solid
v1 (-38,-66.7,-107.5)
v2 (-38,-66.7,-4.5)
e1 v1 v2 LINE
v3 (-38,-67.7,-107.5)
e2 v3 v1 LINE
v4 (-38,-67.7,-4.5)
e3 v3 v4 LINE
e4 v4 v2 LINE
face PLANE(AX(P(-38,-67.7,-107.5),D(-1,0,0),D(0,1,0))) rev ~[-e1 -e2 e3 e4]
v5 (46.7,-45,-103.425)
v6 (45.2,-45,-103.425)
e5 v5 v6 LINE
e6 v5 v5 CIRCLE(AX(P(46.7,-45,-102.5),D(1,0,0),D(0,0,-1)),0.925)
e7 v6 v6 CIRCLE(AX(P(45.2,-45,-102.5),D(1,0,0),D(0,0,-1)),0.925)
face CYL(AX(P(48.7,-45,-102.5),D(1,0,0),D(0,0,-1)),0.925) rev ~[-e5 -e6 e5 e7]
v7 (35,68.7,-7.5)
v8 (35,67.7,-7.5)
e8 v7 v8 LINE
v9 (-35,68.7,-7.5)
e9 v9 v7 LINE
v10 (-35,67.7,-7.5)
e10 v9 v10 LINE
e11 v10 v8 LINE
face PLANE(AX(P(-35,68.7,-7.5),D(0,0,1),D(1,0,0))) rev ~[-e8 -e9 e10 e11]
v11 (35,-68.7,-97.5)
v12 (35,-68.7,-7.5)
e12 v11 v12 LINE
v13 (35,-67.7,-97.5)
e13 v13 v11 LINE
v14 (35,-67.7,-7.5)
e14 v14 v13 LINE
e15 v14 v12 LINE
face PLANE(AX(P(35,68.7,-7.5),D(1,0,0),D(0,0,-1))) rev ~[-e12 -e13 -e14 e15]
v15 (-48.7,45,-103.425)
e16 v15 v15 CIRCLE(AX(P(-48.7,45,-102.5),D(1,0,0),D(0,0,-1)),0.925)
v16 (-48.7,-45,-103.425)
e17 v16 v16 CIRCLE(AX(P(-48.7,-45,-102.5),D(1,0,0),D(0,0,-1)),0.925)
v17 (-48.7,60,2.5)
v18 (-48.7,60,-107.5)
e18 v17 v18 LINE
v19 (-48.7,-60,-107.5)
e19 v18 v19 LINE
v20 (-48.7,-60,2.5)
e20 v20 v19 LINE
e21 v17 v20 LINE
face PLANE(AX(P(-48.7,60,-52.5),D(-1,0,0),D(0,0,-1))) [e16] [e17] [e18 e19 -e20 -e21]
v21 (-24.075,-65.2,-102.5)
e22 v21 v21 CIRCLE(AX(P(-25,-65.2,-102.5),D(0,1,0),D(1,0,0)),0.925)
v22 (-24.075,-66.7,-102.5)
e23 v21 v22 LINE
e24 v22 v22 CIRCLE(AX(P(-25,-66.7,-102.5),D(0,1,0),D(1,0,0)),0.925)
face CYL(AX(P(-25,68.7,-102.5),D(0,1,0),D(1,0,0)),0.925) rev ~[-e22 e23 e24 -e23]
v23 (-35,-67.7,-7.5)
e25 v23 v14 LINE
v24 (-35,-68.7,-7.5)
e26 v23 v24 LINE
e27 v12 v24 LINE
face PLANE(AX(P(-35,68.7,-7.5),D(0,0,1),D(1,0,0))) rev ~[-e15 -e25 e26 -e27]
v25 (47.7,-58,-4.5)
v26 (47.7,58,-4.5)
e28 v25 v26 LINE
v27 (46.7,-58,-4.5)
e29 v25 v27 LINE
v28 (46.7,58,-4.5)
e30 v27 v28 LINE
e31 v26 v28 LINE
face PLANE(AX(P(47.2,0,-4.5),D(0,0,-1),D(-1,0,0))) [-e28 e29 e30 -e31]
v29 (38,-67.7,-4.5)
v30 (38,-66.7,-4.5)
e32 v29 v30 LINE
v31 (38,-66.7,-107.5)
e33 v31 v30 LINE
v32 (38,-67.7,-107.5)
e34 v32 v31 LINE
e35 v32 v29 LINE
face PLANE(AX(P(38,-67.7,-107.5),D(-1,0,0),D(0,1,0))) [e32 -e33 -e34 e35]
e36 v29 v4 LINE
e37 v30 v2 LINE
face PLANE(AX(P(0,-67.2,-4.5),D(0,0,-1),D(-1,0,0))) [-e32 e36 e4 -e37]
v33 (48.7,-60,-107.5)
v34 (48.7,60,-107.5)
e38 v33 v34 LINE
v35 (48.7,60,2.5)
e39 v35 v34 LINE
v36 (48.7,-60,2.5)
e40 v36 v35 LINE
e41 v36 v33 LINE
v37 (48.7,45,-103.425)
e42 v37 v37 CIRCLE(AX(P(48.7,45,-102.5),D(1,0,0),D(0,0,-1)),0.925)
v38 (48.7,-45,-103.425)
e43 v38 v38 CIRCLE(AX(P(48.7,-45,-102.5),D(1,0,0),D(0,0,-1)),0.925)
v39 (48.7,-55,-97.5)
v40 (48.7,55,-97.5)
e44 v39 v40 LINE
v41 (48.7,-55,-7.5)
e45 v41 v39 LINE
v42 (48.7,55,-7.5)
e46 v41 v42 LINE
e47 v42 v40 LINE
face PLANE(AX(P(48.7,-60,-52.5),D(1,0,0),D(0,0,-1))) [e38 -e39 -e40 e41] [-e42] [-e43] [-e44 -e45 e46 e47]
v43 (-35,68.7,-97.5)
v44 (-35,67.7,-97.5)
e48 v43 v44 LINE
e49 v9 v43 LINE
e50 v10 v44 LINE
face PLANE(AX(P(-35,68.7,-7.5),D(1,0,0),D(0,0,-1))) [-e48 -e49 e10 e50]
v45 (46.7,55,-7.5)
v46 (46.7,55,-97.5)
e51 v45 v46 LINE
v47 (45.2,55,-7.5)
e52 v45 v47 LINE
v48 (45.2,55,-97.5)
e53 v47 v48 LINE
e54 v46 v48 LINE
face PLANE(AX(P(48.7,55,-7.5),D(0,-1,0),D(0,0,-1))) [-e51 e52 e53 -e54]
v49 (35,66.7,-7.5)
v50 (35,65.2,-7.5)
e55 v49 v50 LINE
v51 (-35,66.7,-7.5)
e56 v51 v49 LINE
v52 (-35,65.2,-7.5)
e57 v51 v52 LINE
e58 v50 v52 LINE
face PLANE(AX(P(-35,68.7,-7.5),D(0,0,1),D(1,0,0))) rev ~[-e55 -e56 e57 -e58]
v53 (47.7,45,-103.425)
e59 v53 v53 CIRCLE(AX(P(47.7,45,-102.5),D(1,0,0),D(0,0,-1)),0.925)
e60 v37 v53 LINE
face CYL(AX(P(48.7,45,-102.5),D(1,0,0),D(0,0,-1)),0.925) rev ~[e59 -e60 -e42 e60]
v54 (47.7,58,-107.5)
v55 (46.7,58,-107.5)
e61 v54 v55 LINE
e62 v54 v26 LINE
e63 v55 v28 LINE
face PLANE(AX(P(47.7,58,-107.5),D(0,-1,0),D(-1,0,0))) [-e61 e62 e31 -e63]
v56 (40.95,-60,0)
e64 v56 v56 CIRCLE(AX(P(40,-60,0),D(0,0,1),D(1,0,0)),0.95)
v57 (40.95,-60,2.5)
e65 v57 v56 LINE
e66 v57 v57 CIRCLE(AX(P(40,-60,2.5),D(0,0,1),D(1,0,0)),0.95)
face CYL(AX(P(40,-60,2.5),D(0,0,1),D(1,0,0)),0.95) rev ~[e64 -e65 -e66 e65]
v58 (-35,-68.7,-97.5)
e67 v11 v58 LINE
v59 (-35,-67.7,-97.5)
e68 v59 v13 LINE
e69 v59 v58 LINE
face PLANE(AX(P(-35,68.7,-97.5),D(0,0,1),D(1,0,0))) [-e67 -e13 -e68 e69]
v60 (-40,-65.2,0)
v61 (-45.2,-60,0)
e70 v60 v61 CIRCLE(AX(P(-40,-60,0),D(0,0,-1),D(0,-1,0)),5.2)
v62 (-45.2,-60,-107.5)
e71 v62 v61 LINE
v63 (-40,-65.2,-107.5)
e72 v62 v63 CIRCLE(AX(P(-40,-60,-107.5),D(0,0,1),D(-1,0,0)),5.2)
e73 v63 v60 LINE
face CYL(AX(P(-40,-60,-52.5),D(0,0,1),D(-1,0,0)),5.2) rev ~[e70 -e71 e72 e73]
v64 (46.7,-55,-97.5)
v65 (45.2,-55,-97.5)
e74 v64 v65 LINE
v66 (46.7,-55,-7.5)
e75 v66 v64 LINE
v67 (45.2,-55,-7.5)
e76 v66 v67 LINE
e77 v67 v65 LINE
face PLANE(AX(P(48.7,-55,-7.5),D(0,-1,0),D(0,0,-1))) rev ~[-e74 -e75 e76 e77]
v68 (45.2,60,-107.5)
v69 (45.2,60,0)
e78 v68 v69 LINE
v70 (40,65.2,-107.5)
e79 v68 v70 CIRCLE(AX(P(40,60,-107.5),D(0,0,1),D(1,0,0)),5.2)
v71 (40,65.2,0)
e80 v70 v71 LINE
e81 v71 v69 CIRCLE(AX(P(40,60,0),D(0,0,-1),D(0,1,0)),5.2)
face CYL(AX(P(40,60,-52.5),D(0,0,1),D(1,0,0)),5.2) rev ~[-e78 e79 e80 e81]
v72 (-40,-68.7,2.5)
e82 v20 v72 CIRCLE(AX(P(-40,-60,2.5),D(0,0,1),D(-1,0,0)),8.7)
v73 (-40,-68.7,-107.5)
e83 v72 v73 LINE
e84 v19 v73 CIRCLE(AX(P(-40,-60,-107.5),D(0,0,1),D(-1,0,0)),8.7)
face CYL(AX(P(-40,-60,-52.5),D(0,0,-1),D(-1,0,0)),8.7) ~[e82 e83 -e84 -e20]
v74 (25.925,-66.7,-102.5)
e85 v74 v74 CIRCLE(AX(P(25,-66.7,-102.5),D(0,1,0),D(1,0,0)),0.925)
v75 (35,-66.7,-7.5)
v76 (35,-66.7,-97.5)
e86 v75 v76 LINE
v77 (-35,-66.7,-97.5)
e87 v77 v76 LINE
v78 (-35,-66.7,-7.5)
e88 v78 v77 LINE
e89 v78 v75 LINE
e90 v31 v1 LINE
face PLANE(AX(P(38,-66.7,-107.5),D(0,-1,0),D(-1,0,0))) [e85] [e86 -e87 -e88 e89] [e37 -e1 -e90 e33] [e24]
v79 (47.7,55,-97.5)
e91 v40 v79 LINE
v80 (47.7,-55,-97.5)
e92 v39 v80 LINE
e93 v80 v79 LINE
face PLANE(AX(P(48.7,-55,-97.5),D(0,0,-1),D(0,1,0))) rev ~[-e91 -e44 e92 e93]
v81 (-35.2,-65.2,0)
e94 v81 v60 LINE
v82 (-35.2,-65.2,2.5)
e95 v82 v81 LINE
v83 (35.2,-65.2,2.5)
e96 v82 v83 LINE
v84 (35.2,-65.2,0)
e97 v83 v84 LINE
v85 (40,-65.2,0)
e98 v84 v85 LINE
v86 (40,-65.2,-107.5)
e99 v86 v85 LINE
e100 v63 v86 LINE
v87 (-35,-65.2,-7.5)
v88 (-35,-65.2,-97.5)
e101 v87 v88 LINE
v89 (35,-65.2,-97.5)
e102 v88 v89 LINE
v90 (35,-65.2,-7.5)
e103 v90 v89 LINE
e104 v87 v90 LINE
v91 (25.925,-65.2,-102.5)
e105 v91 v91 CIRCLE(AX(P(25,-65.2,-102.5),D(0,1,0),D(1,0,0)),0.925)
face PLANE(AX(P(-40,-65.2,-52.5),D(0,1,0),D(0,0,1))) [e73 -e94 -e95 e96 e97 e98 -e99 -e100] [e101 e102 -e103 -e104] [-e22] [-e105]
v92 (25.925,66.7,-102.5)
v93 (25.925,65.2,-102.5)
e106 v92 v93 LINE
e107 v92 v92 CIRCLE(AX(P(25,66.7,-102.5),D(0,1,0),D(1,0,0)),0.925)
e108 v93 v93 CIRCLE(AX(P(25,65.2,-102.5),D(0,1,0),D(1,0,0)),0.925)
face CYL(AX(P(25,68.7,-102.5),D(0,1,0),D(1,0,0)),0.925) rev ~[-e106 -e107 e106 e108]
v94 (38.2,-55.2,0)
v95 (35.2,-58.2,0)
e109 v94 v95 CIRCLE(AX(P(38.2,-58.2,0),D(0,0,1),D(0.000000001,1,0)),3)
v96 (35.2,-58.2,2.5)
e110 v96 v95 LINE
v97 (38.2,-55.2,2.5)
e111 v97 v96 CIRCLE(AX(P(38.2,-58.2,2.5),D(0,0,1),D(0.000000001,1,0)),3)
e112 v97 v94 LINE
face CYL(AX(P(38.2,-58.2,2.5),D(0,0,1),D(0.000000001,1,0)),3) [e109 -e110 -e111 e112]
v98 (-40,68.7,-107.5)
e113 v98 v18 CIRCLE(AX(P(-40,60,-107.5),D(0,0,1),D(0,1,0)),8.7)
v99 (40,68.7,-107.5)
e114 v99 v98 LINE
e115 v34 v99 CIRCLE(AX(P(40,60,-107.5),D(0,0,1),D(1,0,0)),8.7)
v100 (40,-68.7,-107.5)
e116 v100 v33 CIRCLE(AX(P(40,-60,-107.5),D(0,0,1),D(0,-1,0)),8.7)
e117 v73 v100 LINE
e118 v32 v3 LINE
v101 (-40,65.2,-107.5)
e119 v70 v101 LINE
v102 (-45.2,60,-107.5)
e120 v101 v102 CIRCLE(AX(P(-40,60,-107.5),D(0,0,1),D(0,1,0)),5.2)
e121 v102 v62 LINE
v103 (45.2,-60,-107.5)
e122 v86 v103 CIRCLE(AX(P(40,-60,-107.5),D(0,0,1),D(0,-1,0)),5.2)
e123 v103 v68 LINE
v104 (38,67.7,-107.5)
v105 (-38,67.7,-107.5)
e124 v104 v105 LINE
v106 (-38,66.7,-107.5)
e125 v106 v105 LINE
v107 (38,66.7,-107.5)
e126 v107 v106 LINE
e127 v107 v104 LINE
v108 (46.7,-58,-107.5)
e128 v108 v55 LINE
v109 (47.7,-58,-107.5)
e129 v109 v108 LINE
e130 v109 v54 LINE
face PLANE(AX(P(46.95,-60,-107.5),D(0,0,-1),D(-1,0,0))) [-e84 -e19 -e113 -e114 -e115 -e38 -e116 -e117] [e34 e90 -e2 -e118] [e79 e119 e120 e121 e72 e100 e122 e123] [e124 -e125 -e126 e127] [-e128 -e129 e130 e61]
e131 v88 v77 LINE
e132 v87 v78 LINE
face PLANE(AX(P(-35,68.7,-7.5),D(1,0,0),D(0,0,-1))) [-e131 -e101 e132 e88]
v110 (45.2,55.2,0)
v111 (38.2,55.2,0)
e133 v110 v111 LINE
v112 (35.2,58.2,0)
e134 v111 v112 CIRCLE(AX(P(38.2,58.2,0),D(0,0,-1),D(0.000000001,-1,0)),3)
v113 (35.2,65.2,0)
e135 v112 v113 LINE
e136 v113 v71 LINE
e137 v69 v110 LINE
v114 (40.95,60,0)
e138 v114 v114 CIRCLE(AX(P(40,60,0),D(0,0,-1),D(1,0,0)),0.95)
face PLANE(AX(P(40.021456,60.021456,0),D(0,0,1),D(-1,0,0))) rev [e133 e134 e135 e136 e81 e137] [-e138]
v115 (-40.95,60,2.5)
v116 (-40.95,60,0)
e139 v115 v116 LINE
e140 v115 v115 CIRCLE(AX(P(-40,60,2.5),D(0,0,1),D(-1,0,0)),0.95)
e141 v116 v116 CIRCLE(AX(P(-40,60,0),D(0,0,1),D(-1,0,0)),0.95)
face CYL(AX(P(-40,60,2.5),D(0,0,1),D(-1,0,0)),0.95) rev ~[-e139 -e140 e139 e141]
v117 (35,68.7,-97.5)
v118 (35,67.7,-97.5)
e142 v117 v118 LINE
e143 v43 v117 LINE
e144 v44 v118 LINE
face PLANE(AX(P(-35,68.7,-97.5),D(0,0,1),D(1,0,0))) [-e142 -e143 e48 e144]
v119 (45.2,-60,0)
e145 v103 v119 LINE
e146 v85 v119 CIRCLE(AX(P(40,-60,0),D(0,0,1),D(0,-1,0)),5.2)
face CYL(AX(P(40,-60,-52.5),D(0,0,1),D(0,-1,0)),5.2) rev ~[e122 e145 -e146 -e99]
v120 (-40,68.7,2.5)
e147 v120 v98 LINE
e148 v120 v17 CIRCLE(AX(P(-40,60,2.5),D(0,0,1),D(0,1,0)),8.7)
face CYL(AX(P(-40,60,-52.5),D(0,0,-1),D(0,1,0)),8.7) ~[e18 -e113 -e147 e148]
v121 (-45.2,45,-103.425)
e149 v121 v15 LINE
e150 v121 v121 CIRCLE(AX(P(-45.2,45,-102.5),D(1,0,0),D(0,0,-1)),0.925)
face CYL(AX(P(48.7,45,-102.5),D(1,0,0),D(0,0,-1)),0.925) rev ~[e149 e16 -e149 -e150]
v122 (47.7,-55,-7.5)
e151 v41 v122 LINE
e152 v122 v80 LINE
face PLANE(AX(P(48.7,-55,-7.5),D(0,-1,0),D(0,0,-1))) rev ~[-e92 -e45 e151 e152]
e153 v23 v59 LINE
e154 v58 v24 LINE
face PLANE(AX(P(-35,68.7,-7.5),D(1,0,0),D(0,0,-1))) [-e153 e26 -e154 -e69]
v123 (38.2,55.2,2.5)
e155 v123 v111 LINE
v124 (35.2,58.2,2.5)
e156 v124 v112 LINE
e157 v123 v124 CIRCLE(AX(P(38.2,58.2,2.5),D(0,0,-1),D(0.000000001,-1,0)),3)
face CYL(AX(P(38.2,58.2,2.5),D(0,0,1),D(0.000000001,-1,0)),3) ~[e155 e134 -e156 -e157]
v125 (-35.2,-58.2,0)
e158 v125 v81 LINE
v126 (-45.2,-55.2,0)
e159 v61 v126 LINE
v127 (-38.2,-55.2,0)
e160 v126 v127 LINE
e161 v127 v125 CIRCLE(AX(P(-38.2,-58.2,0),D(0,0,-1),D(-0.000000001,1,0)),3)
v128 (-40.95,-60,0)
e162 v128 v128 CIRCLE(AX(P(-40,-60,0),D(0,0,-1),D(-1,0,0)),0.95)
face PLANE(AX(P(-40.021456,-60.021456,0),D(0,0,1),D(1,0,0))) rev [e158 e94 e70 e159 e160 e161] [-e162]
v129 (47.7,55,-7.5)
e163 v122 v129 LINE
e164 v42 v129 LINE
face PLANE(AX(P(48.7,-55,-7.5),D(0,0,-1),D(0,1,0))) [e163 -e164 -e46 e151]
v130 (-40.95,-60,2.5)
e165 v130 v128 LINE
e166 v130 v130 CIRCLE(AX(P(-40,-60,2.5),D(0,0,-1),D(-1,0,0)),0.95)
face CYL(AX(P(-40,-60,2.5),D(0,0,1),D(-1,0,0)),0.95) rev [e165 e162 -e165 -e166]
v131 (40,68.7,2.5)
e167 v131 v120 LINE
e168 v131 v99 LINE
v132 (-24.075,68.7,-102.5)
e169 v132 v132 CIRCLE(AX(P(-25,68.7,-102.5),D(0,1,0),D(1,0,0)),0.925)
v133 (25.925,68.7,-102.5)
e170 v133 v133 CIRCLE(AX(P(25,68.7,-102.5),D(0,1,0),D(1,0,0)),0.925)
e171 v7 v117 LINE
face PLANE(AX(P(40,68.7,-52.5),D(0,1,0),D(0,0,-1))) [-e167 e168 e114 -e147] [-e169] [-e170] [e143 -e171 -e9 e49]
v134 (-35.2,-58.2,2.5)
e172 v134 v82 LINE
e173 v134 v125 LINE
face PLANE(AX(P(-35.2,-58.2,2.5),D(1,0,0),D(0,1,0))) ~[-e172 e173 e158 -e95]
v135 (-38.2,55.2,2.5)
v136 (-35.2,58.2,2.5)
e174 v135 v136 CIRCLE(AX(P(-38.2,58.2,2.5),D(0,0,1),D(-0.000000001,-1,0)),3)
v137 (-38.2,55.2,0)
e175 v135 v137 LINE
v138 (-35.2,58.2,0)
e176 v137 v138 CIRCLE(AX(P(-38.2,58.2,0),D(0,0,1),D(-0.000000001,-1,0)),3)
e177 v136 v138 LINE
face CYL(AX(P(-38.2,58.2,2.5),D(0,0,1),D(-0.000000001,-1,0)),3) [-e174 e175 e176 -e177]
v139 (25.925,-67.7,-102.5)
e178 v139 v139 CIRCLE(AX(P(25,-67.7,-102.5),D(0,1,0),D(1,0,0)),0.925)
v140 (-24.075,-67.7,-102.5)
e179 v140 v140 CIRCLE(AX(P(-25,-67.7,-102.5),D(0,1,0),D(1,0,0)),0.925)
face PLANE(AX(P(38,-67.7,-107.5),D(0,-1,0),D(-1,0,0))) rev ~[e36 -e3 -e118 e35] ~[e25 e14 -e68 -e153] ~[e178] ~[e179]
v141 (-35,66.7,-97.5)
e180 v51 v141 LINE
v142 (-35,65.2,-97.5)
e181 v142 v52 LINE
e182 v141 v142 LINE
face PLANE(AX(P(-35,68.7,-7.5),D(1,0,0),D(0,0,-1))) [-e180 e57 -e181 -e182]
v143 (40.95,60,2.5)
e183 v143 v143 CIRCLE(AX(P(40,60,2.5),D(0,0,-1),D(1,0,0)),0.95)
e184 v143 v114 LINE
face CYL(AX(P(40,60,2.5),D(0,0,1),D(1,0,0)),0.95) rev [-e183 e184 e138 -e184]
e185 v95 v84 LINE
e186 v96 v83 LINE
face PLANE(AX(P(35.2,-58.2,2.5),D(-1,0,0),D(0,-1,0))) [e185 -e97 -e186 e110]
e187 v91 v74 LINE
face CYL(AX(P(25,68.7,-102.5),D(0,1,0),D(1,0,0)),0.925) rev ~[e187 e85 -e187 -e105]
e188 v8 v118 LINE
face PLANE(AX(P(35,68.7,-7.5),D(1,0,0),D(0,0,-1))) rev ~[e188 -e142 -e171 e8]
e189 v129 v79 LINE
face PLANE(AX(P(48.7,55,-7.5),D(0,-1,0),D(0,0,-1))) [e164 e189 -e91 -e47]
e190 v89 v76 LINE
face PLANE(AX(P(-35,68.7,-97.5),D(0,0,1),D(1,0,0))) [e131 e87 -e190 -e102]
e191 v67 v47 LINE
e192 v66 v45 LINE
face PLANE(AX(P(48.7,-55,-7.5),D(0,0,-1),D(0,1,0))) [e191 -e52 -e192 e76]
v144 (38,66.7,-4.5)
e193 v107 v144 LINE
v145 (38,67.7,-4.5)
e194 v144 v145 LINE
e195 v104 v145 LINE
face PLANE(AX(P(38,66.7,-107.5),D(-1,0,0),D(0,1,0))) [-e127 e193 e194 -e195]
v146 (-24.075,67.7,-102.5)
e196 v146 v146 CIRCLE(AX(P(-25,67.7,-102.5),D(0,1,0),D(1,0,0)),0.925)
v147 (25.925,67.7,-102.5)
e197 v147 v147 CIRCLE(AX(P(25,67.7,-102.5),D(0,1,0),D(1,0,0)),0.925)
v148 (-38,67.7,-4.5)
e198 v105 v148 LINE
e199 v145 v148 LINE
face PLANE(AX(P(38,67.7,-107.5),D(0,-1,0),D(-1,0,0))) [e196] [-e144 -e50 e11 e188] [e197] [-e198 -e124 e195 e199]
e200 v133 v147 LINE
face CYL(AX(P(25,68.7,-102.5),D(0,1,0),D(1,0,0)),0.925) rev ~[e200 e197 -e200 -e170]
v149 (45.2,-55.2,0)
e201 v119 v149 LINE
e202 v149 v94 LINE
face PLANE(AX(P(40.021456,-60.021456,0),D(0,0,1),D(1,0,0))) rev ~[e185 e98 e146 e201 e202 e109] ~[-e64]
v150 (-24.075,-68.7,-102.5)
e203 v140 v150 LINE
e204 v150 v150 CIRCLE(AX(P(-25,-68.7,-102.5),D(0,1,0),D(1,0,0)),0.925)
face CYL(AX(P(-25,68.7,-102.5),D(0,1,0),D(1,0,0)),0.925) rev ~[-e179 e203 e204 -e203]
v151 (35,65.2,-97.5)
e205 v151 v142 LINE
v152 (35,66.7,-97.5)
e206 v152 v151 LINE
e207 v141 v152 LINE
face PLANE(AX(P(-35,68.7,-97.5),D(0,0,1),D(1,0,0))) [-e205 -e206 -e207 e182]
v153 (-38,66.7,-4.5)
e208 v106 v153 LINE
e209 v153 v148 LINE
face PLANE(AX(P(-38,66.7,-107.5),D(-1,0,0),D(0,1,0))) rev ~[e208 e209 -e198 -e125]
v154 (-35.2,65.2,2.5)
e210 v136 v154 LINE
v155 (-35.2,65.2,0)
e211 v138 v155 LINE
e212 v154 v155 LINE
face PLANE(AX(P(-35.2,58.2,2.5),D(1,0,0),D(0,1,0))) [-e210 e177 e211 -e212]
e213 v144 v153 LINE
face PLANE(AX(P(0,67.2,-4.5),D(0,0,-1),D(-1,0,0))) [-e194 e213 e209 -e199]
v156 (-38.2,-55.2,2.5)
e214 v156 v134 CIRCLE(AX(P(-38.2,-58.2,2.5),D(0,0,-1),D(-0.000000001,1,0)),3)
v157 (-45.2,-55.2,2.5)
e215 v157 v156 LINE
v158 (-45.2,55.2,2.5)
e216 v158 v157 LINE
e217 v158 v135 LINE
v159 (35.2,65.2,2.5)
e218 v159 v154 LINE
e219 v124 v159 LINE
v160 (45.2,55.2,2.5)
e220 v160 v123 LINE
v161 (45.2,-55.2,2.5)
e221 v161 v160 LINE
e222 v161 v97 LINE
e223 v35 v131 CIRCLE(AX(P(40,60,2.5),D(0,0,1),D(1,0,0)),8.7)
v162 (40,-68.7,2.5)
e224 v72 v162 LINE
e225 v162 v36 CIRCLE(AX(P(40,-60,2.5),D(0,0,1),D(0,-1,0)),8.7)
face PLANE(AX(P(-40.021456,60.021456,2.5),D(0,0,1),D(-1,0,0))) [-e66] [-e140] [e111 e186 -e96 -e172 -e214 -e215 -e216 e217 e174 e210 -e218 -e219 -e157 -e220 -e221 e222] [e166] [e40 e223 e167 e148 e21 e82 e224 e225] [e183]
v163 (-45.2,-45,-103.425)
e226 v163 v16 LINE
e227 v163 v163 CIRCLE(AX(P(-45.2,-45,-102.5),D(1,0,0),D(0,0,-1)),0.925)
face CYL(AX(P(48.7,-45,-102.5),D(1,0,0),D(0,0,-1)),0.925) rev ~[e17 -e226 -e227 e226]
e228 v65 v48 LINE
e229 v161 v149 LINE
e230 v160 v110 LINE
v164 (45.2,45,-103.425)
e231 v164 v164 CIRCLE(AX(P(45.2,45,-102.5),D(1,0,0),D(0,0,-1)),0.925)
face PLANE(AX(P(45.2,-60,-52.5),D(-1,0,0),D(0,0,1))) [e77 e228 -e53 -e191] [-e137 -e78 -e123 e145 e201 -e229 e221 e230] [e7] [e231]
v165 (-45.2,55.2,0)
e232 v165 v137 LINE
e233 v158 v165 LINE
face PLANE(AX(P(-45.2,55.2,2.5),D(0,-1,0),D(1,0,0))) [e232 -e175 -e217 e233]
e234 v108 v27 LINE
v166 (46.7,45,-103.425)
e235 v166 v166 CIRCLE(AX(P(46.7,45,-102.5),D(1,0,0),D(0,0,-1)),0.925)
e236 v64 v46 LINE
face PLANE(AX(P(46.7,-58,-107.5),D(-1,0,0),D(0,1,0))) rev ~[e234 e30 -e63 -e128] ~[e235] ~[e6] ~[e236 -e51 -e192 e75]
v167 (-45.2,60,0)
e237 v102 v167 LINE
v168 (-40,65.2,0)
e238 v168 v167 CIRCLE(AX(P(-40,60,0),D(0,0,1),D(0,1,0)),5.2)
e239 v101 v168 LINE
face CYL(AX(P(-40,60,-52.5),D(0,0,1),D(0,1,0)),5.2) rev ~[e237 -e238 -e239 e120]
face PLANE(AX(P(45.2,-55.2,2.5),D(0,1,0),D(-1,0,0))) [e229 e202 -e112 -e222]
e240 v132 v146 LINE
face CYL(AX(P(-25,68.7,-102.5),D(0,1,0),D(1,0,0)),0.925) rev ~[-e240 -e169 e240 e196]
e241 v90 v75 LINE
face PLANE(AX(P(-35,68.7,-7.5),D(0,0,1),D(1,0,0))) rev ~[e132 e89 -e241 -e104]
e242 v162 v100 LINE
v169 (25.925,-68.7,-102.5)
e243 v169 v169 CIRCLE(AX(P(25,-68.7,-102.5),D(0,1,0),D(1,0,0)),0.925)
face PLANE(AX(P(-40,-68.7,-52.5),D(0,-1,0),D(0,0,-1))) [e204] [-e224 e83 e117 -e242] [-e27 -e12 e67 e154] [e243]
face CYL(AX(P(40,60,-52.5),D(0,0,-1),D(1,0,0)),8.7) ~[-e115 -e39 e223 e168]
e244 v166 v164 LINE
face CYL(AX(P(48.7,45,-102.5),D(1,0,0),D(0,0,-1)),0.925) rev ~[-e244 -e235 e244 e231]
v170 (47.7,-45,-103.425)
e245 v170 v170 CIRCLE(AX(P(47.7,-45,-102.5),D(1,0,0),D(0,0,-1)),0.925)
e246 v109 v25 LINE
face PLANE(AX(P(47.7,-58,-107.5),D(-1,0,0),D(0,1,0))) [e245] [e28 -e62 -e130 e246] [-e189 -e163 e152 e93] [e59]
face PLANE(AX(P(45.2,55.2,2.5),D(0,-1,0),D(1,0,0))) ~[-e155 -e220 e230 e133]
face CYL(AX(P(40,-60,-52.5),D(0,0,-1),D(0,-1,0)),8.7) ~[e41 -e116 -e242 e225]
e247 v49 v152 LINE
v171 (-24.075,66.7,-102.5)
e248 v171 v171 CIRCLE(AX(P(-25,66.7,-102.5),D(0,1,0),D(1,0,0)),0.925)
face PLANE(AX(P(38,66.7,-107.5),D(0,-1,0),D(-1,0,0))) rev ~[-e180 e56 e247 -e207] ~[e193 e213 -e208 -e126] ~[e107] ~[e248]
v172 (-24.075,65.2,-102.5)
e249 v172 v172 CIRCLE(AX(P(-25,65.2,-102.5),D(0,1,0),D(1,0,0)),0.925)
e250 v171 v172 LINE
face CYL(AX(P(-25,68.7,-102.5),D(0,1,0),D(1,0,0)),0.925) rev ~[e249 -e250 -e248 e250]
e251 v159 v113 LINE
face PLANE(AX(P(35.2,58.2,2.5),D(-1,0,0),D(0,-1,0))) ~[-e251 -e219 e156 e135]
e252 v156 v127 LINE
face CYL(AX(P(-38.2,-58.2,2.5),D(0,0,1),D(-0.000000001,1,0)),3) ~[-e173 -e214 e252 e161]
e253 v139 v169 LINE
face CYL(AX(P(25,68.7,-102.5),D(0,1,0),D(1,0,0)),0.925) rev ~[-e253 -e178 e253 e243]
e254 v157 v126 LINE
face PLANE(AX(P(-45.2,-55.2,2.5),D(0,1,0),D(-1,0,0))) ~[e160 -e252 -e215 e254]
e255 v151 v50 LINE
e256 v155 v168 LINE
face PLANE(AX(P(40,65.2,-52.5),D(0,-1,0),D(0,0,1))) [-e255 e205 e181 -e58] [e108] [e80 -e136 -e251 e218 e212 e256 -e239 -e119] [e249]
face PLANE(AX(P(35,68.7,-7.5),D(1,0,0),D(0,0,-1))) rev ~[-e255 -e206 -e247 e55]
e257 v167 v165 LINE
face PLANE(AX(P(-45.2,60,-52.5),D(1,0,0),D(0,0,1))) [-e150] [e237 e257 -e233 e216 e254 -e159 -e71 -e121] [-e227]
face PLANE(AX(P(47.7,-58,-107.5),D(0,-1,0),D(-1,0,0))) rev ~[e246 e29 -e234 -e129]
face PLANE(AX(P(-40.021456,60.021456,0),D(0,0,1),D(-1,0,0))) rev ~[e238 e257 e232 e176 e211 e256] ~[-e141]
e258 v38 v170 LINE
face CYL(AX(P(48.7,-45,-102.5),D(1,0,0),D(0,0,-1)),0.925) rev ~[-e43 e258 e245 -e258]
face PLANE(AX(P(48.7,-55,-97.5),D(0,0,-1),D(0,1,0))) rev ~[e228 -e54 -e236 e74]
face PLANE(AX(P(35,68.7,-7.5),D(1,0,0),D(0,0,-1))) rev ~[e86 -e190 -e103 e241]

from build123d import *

# Parameters (mm, degrees)
SKETCH3_W               = 110
SKETCH3_H               = 3.5
SKETCH4_R               = 0.95
BOSS_EXTRUDE2_DEPTH     = 2.5
MIRROR4_COPY_1_SKETCH_R = 0.95
MIRROR4_COPY_1_DEPTH    = 2.5
CUT_EXTRUDE1_REACH      = 99.4
SKETCH5_W               = 90
SKETCH5_H               = 110
SKETCH6_W               = 70
SKETCH6_H               = 90
CUT_EXTRUDE2_DEPTH      = 138.4
SKETCH7_R               = 0.925
CUT_EXTRUDE3_DEPTH      = 98.4
SKETCH9_R               = 0.925
CUT_EXTRUDE5_DEPTH      = 138.4
SKETCH8_W               = 76
SKETCH8_H               = 1
SKETCH8_W_2             = 1
SKETCH8_H_2             = 116
CUT_EXTRUDE4_DEPTH      = 103


with BuildPart() as part:
    # Sweep1: sweep along a path in Sketch1
    with BuildLine(Plane.XY) as sweep1_path:
        Line((45, -60), (45, 60))
        ThreePointArc((45, 60), (43.535533906, 63.535533906), (40, 65))
        Line((40, 65), (-40, 65))
        ThreePointArc((-40, 65), (-43.535533906, 63.535533906), (-45, 60))
        Line((-45, 60), (-45, -60))
        ThreePointArc((-45, -60), (-43.535533906, -63.535533906), (-40, -65))
        Line((-40, -65), (40, -65))
        ThreePointArc((40, -65), (43.535533906, -63.535533906), (45, -60))
    # Sketch3 → Sweep1 (sweep)
    with BuildSketch(Plane(origin=(40, 65, 0), x_dir=(0, 0, 1), z_dir=(-1, 0, 0))):
        with Locations((-52.5, 1.95)):
            Rectangle(SKETCH3_W, SKETCH3_H)
    sweep(path=sweep1_path.line)

    # Sketch4 → Boss-Extrude2 (add)
    with BuildSketch(Plane.XY.offset(2.5)):
        with BuildLine():
            Line((35.2, -65.2), (40, -65.2))
            ThreePointArc((40, -65.2), (43.676955262, -63.676955262), (45.2, -60))
            Line((45.2, -60), (45.2, -55.2))
            Line((45.2, -55.2), (38.2, -55.2))
            ThreePointArc((38.2, -55.2), (36.078679656, -56.078679656), (35.2, -58.2))
            Line((35.2, -58.2), (35.2, -65.2))
        make_face()
        with Locations((40, -60)):
            Circle(SKETCH4_R, mode=Mode.SUBTRACT)
    boss_extrude2 = extrude(amount=-BOSS_EXTRUDE2_DEPTH)

    # Mirror3: Boss-Extrude2 across plane
    add(boss_extrude2.mirror(Plane(origin=(0, 0, 0), x_dir=(0, 0, 1), z_dir=(1, 0, 0))))

    # Mirror4: Boss-Extrude2 across plane
    add(boss_extrude2.mirror(Plane.ZX))

    # Mirror4 copy 1 sketch → Mirror4 copy 1 (add)
    with BuildSketch(Plane(origin=(0, 0, 2.5), x_dir=(-1, 0, 0), z_dir=(0, 0, 1))):
        with BuildLine():
            Line((35.2, -65.2), (40, -65.2))
            ThreePointArc((40, -65.2), (43.676955262, -63.676955262), (45.2, -60))
            Line((45.2, -60), (45.2, -55.2))
            Line((45.2, -55.2), (38.2, -55.2))
            ThreePointArc((38.2, -55.2), (36.078679656, -56.078679656), (35.2, -58.2))
            Line((35.2, -58.2), (35.2, -65.2))
        make_face()
        with Locations((40, -60)):
            Circle(MIRROR4_COPY_1_SKETCH_R, mode=Mode.SUBTRACT)
    extrude(amount=-MIRROR4_COPY_1_DEPTH)

    # Sketch5 → Cut-Extrude1 (cut, up to next)
    with BuildSketch(Plane(origin=(48.7, 0, 0), x_dir=(0, 0, -1), z_dir=(1, 0, 0)), mode=Mode.PRIVATE) as cut_extrude1_sk1:
        with Locations((52.5, 0)):
            Rectangle(SKETCH5_W, SKETCH5_H)
    cut_extrude1_tool1 = extrude(cut_extrude1_sk1.sketch, amount=-CUT_EXTRUDE1_REACH, mode=Mode.PRIVATE) & part.part
    add(cut_extrude1_tool1.solids().sort_by_distance((48.7, 0, -52.5))[0], mode=Mode.SUBTRACT)

    # Sketch6 → Cut-Extrude2 (cut, through all)
    with BuildSketch(Plane(origin=(0, 68.7, 0), x_dir=(1, 0, 0), z_dir=(0, 1, 0))):
        with Locations((0, 52.5)):
            Rectangle(SKETCH6_W, SKETCH6_H)
    extrude(amount=-CUT_EXTRUDE2_DEPTH, mode=Mode.SUBTRACT)

    # Sketch7 → Cut-Extrude3 (cut, through all)
    with BuildSketch(Plane(origin=(48.7, 0, 0), x_dir=(0, 0, -1), z_dir=(1, 0, 0))):
        with Locations((102.5, 45)):
            Circle(SKETCH7_R)
        with Locations((102.5, -45)):
            Circle(SKETCH7_R)
    extrude(amount=-CUT_EXTRUDE3_DEPTH, mode=Mode.SUBTRACT)

    # Sketch9 → Cut-Extrude5 (cut, through all)
    with BuildSketch(Plane(origin=(0, 68.7, 0), x_dir=(1, 0, 0), z_dir=(0, 1, 0))):
        with Locations((-25, 102.5)):
            Circle(SKETCH9_R)
        with Locations((25, 102.5)):
            Circle(SKETCH9_R)
    extrude(amount=-CUT_EXTRUDE5_DEPTH, mode=Mode.SUBTRACT)

    # Sketch8 → Cut-Extrude4 (cut)
    with BuildSketch(Plane(origin=(0, 0, -107.5), x_dir=(-1, 0, 0), z_dir=(0, 0, -1))):
        with Locations((0, 67.2)):
            Rectangle(SKETCH8_W, SKETCH8_H)
        with Locations((-47.2, 0)):
            Rectangle(SKETCH8_W_2, SKETCH8_H_2)
        with Locations((0, -67.2)):
            Rectangle(SKETCH8_W, SKETCH8_H)
    extrude(amount=-CUT_EXTRUDE4_DEPTH, mode=Mode.SUBTRACT)


solid = part.part
